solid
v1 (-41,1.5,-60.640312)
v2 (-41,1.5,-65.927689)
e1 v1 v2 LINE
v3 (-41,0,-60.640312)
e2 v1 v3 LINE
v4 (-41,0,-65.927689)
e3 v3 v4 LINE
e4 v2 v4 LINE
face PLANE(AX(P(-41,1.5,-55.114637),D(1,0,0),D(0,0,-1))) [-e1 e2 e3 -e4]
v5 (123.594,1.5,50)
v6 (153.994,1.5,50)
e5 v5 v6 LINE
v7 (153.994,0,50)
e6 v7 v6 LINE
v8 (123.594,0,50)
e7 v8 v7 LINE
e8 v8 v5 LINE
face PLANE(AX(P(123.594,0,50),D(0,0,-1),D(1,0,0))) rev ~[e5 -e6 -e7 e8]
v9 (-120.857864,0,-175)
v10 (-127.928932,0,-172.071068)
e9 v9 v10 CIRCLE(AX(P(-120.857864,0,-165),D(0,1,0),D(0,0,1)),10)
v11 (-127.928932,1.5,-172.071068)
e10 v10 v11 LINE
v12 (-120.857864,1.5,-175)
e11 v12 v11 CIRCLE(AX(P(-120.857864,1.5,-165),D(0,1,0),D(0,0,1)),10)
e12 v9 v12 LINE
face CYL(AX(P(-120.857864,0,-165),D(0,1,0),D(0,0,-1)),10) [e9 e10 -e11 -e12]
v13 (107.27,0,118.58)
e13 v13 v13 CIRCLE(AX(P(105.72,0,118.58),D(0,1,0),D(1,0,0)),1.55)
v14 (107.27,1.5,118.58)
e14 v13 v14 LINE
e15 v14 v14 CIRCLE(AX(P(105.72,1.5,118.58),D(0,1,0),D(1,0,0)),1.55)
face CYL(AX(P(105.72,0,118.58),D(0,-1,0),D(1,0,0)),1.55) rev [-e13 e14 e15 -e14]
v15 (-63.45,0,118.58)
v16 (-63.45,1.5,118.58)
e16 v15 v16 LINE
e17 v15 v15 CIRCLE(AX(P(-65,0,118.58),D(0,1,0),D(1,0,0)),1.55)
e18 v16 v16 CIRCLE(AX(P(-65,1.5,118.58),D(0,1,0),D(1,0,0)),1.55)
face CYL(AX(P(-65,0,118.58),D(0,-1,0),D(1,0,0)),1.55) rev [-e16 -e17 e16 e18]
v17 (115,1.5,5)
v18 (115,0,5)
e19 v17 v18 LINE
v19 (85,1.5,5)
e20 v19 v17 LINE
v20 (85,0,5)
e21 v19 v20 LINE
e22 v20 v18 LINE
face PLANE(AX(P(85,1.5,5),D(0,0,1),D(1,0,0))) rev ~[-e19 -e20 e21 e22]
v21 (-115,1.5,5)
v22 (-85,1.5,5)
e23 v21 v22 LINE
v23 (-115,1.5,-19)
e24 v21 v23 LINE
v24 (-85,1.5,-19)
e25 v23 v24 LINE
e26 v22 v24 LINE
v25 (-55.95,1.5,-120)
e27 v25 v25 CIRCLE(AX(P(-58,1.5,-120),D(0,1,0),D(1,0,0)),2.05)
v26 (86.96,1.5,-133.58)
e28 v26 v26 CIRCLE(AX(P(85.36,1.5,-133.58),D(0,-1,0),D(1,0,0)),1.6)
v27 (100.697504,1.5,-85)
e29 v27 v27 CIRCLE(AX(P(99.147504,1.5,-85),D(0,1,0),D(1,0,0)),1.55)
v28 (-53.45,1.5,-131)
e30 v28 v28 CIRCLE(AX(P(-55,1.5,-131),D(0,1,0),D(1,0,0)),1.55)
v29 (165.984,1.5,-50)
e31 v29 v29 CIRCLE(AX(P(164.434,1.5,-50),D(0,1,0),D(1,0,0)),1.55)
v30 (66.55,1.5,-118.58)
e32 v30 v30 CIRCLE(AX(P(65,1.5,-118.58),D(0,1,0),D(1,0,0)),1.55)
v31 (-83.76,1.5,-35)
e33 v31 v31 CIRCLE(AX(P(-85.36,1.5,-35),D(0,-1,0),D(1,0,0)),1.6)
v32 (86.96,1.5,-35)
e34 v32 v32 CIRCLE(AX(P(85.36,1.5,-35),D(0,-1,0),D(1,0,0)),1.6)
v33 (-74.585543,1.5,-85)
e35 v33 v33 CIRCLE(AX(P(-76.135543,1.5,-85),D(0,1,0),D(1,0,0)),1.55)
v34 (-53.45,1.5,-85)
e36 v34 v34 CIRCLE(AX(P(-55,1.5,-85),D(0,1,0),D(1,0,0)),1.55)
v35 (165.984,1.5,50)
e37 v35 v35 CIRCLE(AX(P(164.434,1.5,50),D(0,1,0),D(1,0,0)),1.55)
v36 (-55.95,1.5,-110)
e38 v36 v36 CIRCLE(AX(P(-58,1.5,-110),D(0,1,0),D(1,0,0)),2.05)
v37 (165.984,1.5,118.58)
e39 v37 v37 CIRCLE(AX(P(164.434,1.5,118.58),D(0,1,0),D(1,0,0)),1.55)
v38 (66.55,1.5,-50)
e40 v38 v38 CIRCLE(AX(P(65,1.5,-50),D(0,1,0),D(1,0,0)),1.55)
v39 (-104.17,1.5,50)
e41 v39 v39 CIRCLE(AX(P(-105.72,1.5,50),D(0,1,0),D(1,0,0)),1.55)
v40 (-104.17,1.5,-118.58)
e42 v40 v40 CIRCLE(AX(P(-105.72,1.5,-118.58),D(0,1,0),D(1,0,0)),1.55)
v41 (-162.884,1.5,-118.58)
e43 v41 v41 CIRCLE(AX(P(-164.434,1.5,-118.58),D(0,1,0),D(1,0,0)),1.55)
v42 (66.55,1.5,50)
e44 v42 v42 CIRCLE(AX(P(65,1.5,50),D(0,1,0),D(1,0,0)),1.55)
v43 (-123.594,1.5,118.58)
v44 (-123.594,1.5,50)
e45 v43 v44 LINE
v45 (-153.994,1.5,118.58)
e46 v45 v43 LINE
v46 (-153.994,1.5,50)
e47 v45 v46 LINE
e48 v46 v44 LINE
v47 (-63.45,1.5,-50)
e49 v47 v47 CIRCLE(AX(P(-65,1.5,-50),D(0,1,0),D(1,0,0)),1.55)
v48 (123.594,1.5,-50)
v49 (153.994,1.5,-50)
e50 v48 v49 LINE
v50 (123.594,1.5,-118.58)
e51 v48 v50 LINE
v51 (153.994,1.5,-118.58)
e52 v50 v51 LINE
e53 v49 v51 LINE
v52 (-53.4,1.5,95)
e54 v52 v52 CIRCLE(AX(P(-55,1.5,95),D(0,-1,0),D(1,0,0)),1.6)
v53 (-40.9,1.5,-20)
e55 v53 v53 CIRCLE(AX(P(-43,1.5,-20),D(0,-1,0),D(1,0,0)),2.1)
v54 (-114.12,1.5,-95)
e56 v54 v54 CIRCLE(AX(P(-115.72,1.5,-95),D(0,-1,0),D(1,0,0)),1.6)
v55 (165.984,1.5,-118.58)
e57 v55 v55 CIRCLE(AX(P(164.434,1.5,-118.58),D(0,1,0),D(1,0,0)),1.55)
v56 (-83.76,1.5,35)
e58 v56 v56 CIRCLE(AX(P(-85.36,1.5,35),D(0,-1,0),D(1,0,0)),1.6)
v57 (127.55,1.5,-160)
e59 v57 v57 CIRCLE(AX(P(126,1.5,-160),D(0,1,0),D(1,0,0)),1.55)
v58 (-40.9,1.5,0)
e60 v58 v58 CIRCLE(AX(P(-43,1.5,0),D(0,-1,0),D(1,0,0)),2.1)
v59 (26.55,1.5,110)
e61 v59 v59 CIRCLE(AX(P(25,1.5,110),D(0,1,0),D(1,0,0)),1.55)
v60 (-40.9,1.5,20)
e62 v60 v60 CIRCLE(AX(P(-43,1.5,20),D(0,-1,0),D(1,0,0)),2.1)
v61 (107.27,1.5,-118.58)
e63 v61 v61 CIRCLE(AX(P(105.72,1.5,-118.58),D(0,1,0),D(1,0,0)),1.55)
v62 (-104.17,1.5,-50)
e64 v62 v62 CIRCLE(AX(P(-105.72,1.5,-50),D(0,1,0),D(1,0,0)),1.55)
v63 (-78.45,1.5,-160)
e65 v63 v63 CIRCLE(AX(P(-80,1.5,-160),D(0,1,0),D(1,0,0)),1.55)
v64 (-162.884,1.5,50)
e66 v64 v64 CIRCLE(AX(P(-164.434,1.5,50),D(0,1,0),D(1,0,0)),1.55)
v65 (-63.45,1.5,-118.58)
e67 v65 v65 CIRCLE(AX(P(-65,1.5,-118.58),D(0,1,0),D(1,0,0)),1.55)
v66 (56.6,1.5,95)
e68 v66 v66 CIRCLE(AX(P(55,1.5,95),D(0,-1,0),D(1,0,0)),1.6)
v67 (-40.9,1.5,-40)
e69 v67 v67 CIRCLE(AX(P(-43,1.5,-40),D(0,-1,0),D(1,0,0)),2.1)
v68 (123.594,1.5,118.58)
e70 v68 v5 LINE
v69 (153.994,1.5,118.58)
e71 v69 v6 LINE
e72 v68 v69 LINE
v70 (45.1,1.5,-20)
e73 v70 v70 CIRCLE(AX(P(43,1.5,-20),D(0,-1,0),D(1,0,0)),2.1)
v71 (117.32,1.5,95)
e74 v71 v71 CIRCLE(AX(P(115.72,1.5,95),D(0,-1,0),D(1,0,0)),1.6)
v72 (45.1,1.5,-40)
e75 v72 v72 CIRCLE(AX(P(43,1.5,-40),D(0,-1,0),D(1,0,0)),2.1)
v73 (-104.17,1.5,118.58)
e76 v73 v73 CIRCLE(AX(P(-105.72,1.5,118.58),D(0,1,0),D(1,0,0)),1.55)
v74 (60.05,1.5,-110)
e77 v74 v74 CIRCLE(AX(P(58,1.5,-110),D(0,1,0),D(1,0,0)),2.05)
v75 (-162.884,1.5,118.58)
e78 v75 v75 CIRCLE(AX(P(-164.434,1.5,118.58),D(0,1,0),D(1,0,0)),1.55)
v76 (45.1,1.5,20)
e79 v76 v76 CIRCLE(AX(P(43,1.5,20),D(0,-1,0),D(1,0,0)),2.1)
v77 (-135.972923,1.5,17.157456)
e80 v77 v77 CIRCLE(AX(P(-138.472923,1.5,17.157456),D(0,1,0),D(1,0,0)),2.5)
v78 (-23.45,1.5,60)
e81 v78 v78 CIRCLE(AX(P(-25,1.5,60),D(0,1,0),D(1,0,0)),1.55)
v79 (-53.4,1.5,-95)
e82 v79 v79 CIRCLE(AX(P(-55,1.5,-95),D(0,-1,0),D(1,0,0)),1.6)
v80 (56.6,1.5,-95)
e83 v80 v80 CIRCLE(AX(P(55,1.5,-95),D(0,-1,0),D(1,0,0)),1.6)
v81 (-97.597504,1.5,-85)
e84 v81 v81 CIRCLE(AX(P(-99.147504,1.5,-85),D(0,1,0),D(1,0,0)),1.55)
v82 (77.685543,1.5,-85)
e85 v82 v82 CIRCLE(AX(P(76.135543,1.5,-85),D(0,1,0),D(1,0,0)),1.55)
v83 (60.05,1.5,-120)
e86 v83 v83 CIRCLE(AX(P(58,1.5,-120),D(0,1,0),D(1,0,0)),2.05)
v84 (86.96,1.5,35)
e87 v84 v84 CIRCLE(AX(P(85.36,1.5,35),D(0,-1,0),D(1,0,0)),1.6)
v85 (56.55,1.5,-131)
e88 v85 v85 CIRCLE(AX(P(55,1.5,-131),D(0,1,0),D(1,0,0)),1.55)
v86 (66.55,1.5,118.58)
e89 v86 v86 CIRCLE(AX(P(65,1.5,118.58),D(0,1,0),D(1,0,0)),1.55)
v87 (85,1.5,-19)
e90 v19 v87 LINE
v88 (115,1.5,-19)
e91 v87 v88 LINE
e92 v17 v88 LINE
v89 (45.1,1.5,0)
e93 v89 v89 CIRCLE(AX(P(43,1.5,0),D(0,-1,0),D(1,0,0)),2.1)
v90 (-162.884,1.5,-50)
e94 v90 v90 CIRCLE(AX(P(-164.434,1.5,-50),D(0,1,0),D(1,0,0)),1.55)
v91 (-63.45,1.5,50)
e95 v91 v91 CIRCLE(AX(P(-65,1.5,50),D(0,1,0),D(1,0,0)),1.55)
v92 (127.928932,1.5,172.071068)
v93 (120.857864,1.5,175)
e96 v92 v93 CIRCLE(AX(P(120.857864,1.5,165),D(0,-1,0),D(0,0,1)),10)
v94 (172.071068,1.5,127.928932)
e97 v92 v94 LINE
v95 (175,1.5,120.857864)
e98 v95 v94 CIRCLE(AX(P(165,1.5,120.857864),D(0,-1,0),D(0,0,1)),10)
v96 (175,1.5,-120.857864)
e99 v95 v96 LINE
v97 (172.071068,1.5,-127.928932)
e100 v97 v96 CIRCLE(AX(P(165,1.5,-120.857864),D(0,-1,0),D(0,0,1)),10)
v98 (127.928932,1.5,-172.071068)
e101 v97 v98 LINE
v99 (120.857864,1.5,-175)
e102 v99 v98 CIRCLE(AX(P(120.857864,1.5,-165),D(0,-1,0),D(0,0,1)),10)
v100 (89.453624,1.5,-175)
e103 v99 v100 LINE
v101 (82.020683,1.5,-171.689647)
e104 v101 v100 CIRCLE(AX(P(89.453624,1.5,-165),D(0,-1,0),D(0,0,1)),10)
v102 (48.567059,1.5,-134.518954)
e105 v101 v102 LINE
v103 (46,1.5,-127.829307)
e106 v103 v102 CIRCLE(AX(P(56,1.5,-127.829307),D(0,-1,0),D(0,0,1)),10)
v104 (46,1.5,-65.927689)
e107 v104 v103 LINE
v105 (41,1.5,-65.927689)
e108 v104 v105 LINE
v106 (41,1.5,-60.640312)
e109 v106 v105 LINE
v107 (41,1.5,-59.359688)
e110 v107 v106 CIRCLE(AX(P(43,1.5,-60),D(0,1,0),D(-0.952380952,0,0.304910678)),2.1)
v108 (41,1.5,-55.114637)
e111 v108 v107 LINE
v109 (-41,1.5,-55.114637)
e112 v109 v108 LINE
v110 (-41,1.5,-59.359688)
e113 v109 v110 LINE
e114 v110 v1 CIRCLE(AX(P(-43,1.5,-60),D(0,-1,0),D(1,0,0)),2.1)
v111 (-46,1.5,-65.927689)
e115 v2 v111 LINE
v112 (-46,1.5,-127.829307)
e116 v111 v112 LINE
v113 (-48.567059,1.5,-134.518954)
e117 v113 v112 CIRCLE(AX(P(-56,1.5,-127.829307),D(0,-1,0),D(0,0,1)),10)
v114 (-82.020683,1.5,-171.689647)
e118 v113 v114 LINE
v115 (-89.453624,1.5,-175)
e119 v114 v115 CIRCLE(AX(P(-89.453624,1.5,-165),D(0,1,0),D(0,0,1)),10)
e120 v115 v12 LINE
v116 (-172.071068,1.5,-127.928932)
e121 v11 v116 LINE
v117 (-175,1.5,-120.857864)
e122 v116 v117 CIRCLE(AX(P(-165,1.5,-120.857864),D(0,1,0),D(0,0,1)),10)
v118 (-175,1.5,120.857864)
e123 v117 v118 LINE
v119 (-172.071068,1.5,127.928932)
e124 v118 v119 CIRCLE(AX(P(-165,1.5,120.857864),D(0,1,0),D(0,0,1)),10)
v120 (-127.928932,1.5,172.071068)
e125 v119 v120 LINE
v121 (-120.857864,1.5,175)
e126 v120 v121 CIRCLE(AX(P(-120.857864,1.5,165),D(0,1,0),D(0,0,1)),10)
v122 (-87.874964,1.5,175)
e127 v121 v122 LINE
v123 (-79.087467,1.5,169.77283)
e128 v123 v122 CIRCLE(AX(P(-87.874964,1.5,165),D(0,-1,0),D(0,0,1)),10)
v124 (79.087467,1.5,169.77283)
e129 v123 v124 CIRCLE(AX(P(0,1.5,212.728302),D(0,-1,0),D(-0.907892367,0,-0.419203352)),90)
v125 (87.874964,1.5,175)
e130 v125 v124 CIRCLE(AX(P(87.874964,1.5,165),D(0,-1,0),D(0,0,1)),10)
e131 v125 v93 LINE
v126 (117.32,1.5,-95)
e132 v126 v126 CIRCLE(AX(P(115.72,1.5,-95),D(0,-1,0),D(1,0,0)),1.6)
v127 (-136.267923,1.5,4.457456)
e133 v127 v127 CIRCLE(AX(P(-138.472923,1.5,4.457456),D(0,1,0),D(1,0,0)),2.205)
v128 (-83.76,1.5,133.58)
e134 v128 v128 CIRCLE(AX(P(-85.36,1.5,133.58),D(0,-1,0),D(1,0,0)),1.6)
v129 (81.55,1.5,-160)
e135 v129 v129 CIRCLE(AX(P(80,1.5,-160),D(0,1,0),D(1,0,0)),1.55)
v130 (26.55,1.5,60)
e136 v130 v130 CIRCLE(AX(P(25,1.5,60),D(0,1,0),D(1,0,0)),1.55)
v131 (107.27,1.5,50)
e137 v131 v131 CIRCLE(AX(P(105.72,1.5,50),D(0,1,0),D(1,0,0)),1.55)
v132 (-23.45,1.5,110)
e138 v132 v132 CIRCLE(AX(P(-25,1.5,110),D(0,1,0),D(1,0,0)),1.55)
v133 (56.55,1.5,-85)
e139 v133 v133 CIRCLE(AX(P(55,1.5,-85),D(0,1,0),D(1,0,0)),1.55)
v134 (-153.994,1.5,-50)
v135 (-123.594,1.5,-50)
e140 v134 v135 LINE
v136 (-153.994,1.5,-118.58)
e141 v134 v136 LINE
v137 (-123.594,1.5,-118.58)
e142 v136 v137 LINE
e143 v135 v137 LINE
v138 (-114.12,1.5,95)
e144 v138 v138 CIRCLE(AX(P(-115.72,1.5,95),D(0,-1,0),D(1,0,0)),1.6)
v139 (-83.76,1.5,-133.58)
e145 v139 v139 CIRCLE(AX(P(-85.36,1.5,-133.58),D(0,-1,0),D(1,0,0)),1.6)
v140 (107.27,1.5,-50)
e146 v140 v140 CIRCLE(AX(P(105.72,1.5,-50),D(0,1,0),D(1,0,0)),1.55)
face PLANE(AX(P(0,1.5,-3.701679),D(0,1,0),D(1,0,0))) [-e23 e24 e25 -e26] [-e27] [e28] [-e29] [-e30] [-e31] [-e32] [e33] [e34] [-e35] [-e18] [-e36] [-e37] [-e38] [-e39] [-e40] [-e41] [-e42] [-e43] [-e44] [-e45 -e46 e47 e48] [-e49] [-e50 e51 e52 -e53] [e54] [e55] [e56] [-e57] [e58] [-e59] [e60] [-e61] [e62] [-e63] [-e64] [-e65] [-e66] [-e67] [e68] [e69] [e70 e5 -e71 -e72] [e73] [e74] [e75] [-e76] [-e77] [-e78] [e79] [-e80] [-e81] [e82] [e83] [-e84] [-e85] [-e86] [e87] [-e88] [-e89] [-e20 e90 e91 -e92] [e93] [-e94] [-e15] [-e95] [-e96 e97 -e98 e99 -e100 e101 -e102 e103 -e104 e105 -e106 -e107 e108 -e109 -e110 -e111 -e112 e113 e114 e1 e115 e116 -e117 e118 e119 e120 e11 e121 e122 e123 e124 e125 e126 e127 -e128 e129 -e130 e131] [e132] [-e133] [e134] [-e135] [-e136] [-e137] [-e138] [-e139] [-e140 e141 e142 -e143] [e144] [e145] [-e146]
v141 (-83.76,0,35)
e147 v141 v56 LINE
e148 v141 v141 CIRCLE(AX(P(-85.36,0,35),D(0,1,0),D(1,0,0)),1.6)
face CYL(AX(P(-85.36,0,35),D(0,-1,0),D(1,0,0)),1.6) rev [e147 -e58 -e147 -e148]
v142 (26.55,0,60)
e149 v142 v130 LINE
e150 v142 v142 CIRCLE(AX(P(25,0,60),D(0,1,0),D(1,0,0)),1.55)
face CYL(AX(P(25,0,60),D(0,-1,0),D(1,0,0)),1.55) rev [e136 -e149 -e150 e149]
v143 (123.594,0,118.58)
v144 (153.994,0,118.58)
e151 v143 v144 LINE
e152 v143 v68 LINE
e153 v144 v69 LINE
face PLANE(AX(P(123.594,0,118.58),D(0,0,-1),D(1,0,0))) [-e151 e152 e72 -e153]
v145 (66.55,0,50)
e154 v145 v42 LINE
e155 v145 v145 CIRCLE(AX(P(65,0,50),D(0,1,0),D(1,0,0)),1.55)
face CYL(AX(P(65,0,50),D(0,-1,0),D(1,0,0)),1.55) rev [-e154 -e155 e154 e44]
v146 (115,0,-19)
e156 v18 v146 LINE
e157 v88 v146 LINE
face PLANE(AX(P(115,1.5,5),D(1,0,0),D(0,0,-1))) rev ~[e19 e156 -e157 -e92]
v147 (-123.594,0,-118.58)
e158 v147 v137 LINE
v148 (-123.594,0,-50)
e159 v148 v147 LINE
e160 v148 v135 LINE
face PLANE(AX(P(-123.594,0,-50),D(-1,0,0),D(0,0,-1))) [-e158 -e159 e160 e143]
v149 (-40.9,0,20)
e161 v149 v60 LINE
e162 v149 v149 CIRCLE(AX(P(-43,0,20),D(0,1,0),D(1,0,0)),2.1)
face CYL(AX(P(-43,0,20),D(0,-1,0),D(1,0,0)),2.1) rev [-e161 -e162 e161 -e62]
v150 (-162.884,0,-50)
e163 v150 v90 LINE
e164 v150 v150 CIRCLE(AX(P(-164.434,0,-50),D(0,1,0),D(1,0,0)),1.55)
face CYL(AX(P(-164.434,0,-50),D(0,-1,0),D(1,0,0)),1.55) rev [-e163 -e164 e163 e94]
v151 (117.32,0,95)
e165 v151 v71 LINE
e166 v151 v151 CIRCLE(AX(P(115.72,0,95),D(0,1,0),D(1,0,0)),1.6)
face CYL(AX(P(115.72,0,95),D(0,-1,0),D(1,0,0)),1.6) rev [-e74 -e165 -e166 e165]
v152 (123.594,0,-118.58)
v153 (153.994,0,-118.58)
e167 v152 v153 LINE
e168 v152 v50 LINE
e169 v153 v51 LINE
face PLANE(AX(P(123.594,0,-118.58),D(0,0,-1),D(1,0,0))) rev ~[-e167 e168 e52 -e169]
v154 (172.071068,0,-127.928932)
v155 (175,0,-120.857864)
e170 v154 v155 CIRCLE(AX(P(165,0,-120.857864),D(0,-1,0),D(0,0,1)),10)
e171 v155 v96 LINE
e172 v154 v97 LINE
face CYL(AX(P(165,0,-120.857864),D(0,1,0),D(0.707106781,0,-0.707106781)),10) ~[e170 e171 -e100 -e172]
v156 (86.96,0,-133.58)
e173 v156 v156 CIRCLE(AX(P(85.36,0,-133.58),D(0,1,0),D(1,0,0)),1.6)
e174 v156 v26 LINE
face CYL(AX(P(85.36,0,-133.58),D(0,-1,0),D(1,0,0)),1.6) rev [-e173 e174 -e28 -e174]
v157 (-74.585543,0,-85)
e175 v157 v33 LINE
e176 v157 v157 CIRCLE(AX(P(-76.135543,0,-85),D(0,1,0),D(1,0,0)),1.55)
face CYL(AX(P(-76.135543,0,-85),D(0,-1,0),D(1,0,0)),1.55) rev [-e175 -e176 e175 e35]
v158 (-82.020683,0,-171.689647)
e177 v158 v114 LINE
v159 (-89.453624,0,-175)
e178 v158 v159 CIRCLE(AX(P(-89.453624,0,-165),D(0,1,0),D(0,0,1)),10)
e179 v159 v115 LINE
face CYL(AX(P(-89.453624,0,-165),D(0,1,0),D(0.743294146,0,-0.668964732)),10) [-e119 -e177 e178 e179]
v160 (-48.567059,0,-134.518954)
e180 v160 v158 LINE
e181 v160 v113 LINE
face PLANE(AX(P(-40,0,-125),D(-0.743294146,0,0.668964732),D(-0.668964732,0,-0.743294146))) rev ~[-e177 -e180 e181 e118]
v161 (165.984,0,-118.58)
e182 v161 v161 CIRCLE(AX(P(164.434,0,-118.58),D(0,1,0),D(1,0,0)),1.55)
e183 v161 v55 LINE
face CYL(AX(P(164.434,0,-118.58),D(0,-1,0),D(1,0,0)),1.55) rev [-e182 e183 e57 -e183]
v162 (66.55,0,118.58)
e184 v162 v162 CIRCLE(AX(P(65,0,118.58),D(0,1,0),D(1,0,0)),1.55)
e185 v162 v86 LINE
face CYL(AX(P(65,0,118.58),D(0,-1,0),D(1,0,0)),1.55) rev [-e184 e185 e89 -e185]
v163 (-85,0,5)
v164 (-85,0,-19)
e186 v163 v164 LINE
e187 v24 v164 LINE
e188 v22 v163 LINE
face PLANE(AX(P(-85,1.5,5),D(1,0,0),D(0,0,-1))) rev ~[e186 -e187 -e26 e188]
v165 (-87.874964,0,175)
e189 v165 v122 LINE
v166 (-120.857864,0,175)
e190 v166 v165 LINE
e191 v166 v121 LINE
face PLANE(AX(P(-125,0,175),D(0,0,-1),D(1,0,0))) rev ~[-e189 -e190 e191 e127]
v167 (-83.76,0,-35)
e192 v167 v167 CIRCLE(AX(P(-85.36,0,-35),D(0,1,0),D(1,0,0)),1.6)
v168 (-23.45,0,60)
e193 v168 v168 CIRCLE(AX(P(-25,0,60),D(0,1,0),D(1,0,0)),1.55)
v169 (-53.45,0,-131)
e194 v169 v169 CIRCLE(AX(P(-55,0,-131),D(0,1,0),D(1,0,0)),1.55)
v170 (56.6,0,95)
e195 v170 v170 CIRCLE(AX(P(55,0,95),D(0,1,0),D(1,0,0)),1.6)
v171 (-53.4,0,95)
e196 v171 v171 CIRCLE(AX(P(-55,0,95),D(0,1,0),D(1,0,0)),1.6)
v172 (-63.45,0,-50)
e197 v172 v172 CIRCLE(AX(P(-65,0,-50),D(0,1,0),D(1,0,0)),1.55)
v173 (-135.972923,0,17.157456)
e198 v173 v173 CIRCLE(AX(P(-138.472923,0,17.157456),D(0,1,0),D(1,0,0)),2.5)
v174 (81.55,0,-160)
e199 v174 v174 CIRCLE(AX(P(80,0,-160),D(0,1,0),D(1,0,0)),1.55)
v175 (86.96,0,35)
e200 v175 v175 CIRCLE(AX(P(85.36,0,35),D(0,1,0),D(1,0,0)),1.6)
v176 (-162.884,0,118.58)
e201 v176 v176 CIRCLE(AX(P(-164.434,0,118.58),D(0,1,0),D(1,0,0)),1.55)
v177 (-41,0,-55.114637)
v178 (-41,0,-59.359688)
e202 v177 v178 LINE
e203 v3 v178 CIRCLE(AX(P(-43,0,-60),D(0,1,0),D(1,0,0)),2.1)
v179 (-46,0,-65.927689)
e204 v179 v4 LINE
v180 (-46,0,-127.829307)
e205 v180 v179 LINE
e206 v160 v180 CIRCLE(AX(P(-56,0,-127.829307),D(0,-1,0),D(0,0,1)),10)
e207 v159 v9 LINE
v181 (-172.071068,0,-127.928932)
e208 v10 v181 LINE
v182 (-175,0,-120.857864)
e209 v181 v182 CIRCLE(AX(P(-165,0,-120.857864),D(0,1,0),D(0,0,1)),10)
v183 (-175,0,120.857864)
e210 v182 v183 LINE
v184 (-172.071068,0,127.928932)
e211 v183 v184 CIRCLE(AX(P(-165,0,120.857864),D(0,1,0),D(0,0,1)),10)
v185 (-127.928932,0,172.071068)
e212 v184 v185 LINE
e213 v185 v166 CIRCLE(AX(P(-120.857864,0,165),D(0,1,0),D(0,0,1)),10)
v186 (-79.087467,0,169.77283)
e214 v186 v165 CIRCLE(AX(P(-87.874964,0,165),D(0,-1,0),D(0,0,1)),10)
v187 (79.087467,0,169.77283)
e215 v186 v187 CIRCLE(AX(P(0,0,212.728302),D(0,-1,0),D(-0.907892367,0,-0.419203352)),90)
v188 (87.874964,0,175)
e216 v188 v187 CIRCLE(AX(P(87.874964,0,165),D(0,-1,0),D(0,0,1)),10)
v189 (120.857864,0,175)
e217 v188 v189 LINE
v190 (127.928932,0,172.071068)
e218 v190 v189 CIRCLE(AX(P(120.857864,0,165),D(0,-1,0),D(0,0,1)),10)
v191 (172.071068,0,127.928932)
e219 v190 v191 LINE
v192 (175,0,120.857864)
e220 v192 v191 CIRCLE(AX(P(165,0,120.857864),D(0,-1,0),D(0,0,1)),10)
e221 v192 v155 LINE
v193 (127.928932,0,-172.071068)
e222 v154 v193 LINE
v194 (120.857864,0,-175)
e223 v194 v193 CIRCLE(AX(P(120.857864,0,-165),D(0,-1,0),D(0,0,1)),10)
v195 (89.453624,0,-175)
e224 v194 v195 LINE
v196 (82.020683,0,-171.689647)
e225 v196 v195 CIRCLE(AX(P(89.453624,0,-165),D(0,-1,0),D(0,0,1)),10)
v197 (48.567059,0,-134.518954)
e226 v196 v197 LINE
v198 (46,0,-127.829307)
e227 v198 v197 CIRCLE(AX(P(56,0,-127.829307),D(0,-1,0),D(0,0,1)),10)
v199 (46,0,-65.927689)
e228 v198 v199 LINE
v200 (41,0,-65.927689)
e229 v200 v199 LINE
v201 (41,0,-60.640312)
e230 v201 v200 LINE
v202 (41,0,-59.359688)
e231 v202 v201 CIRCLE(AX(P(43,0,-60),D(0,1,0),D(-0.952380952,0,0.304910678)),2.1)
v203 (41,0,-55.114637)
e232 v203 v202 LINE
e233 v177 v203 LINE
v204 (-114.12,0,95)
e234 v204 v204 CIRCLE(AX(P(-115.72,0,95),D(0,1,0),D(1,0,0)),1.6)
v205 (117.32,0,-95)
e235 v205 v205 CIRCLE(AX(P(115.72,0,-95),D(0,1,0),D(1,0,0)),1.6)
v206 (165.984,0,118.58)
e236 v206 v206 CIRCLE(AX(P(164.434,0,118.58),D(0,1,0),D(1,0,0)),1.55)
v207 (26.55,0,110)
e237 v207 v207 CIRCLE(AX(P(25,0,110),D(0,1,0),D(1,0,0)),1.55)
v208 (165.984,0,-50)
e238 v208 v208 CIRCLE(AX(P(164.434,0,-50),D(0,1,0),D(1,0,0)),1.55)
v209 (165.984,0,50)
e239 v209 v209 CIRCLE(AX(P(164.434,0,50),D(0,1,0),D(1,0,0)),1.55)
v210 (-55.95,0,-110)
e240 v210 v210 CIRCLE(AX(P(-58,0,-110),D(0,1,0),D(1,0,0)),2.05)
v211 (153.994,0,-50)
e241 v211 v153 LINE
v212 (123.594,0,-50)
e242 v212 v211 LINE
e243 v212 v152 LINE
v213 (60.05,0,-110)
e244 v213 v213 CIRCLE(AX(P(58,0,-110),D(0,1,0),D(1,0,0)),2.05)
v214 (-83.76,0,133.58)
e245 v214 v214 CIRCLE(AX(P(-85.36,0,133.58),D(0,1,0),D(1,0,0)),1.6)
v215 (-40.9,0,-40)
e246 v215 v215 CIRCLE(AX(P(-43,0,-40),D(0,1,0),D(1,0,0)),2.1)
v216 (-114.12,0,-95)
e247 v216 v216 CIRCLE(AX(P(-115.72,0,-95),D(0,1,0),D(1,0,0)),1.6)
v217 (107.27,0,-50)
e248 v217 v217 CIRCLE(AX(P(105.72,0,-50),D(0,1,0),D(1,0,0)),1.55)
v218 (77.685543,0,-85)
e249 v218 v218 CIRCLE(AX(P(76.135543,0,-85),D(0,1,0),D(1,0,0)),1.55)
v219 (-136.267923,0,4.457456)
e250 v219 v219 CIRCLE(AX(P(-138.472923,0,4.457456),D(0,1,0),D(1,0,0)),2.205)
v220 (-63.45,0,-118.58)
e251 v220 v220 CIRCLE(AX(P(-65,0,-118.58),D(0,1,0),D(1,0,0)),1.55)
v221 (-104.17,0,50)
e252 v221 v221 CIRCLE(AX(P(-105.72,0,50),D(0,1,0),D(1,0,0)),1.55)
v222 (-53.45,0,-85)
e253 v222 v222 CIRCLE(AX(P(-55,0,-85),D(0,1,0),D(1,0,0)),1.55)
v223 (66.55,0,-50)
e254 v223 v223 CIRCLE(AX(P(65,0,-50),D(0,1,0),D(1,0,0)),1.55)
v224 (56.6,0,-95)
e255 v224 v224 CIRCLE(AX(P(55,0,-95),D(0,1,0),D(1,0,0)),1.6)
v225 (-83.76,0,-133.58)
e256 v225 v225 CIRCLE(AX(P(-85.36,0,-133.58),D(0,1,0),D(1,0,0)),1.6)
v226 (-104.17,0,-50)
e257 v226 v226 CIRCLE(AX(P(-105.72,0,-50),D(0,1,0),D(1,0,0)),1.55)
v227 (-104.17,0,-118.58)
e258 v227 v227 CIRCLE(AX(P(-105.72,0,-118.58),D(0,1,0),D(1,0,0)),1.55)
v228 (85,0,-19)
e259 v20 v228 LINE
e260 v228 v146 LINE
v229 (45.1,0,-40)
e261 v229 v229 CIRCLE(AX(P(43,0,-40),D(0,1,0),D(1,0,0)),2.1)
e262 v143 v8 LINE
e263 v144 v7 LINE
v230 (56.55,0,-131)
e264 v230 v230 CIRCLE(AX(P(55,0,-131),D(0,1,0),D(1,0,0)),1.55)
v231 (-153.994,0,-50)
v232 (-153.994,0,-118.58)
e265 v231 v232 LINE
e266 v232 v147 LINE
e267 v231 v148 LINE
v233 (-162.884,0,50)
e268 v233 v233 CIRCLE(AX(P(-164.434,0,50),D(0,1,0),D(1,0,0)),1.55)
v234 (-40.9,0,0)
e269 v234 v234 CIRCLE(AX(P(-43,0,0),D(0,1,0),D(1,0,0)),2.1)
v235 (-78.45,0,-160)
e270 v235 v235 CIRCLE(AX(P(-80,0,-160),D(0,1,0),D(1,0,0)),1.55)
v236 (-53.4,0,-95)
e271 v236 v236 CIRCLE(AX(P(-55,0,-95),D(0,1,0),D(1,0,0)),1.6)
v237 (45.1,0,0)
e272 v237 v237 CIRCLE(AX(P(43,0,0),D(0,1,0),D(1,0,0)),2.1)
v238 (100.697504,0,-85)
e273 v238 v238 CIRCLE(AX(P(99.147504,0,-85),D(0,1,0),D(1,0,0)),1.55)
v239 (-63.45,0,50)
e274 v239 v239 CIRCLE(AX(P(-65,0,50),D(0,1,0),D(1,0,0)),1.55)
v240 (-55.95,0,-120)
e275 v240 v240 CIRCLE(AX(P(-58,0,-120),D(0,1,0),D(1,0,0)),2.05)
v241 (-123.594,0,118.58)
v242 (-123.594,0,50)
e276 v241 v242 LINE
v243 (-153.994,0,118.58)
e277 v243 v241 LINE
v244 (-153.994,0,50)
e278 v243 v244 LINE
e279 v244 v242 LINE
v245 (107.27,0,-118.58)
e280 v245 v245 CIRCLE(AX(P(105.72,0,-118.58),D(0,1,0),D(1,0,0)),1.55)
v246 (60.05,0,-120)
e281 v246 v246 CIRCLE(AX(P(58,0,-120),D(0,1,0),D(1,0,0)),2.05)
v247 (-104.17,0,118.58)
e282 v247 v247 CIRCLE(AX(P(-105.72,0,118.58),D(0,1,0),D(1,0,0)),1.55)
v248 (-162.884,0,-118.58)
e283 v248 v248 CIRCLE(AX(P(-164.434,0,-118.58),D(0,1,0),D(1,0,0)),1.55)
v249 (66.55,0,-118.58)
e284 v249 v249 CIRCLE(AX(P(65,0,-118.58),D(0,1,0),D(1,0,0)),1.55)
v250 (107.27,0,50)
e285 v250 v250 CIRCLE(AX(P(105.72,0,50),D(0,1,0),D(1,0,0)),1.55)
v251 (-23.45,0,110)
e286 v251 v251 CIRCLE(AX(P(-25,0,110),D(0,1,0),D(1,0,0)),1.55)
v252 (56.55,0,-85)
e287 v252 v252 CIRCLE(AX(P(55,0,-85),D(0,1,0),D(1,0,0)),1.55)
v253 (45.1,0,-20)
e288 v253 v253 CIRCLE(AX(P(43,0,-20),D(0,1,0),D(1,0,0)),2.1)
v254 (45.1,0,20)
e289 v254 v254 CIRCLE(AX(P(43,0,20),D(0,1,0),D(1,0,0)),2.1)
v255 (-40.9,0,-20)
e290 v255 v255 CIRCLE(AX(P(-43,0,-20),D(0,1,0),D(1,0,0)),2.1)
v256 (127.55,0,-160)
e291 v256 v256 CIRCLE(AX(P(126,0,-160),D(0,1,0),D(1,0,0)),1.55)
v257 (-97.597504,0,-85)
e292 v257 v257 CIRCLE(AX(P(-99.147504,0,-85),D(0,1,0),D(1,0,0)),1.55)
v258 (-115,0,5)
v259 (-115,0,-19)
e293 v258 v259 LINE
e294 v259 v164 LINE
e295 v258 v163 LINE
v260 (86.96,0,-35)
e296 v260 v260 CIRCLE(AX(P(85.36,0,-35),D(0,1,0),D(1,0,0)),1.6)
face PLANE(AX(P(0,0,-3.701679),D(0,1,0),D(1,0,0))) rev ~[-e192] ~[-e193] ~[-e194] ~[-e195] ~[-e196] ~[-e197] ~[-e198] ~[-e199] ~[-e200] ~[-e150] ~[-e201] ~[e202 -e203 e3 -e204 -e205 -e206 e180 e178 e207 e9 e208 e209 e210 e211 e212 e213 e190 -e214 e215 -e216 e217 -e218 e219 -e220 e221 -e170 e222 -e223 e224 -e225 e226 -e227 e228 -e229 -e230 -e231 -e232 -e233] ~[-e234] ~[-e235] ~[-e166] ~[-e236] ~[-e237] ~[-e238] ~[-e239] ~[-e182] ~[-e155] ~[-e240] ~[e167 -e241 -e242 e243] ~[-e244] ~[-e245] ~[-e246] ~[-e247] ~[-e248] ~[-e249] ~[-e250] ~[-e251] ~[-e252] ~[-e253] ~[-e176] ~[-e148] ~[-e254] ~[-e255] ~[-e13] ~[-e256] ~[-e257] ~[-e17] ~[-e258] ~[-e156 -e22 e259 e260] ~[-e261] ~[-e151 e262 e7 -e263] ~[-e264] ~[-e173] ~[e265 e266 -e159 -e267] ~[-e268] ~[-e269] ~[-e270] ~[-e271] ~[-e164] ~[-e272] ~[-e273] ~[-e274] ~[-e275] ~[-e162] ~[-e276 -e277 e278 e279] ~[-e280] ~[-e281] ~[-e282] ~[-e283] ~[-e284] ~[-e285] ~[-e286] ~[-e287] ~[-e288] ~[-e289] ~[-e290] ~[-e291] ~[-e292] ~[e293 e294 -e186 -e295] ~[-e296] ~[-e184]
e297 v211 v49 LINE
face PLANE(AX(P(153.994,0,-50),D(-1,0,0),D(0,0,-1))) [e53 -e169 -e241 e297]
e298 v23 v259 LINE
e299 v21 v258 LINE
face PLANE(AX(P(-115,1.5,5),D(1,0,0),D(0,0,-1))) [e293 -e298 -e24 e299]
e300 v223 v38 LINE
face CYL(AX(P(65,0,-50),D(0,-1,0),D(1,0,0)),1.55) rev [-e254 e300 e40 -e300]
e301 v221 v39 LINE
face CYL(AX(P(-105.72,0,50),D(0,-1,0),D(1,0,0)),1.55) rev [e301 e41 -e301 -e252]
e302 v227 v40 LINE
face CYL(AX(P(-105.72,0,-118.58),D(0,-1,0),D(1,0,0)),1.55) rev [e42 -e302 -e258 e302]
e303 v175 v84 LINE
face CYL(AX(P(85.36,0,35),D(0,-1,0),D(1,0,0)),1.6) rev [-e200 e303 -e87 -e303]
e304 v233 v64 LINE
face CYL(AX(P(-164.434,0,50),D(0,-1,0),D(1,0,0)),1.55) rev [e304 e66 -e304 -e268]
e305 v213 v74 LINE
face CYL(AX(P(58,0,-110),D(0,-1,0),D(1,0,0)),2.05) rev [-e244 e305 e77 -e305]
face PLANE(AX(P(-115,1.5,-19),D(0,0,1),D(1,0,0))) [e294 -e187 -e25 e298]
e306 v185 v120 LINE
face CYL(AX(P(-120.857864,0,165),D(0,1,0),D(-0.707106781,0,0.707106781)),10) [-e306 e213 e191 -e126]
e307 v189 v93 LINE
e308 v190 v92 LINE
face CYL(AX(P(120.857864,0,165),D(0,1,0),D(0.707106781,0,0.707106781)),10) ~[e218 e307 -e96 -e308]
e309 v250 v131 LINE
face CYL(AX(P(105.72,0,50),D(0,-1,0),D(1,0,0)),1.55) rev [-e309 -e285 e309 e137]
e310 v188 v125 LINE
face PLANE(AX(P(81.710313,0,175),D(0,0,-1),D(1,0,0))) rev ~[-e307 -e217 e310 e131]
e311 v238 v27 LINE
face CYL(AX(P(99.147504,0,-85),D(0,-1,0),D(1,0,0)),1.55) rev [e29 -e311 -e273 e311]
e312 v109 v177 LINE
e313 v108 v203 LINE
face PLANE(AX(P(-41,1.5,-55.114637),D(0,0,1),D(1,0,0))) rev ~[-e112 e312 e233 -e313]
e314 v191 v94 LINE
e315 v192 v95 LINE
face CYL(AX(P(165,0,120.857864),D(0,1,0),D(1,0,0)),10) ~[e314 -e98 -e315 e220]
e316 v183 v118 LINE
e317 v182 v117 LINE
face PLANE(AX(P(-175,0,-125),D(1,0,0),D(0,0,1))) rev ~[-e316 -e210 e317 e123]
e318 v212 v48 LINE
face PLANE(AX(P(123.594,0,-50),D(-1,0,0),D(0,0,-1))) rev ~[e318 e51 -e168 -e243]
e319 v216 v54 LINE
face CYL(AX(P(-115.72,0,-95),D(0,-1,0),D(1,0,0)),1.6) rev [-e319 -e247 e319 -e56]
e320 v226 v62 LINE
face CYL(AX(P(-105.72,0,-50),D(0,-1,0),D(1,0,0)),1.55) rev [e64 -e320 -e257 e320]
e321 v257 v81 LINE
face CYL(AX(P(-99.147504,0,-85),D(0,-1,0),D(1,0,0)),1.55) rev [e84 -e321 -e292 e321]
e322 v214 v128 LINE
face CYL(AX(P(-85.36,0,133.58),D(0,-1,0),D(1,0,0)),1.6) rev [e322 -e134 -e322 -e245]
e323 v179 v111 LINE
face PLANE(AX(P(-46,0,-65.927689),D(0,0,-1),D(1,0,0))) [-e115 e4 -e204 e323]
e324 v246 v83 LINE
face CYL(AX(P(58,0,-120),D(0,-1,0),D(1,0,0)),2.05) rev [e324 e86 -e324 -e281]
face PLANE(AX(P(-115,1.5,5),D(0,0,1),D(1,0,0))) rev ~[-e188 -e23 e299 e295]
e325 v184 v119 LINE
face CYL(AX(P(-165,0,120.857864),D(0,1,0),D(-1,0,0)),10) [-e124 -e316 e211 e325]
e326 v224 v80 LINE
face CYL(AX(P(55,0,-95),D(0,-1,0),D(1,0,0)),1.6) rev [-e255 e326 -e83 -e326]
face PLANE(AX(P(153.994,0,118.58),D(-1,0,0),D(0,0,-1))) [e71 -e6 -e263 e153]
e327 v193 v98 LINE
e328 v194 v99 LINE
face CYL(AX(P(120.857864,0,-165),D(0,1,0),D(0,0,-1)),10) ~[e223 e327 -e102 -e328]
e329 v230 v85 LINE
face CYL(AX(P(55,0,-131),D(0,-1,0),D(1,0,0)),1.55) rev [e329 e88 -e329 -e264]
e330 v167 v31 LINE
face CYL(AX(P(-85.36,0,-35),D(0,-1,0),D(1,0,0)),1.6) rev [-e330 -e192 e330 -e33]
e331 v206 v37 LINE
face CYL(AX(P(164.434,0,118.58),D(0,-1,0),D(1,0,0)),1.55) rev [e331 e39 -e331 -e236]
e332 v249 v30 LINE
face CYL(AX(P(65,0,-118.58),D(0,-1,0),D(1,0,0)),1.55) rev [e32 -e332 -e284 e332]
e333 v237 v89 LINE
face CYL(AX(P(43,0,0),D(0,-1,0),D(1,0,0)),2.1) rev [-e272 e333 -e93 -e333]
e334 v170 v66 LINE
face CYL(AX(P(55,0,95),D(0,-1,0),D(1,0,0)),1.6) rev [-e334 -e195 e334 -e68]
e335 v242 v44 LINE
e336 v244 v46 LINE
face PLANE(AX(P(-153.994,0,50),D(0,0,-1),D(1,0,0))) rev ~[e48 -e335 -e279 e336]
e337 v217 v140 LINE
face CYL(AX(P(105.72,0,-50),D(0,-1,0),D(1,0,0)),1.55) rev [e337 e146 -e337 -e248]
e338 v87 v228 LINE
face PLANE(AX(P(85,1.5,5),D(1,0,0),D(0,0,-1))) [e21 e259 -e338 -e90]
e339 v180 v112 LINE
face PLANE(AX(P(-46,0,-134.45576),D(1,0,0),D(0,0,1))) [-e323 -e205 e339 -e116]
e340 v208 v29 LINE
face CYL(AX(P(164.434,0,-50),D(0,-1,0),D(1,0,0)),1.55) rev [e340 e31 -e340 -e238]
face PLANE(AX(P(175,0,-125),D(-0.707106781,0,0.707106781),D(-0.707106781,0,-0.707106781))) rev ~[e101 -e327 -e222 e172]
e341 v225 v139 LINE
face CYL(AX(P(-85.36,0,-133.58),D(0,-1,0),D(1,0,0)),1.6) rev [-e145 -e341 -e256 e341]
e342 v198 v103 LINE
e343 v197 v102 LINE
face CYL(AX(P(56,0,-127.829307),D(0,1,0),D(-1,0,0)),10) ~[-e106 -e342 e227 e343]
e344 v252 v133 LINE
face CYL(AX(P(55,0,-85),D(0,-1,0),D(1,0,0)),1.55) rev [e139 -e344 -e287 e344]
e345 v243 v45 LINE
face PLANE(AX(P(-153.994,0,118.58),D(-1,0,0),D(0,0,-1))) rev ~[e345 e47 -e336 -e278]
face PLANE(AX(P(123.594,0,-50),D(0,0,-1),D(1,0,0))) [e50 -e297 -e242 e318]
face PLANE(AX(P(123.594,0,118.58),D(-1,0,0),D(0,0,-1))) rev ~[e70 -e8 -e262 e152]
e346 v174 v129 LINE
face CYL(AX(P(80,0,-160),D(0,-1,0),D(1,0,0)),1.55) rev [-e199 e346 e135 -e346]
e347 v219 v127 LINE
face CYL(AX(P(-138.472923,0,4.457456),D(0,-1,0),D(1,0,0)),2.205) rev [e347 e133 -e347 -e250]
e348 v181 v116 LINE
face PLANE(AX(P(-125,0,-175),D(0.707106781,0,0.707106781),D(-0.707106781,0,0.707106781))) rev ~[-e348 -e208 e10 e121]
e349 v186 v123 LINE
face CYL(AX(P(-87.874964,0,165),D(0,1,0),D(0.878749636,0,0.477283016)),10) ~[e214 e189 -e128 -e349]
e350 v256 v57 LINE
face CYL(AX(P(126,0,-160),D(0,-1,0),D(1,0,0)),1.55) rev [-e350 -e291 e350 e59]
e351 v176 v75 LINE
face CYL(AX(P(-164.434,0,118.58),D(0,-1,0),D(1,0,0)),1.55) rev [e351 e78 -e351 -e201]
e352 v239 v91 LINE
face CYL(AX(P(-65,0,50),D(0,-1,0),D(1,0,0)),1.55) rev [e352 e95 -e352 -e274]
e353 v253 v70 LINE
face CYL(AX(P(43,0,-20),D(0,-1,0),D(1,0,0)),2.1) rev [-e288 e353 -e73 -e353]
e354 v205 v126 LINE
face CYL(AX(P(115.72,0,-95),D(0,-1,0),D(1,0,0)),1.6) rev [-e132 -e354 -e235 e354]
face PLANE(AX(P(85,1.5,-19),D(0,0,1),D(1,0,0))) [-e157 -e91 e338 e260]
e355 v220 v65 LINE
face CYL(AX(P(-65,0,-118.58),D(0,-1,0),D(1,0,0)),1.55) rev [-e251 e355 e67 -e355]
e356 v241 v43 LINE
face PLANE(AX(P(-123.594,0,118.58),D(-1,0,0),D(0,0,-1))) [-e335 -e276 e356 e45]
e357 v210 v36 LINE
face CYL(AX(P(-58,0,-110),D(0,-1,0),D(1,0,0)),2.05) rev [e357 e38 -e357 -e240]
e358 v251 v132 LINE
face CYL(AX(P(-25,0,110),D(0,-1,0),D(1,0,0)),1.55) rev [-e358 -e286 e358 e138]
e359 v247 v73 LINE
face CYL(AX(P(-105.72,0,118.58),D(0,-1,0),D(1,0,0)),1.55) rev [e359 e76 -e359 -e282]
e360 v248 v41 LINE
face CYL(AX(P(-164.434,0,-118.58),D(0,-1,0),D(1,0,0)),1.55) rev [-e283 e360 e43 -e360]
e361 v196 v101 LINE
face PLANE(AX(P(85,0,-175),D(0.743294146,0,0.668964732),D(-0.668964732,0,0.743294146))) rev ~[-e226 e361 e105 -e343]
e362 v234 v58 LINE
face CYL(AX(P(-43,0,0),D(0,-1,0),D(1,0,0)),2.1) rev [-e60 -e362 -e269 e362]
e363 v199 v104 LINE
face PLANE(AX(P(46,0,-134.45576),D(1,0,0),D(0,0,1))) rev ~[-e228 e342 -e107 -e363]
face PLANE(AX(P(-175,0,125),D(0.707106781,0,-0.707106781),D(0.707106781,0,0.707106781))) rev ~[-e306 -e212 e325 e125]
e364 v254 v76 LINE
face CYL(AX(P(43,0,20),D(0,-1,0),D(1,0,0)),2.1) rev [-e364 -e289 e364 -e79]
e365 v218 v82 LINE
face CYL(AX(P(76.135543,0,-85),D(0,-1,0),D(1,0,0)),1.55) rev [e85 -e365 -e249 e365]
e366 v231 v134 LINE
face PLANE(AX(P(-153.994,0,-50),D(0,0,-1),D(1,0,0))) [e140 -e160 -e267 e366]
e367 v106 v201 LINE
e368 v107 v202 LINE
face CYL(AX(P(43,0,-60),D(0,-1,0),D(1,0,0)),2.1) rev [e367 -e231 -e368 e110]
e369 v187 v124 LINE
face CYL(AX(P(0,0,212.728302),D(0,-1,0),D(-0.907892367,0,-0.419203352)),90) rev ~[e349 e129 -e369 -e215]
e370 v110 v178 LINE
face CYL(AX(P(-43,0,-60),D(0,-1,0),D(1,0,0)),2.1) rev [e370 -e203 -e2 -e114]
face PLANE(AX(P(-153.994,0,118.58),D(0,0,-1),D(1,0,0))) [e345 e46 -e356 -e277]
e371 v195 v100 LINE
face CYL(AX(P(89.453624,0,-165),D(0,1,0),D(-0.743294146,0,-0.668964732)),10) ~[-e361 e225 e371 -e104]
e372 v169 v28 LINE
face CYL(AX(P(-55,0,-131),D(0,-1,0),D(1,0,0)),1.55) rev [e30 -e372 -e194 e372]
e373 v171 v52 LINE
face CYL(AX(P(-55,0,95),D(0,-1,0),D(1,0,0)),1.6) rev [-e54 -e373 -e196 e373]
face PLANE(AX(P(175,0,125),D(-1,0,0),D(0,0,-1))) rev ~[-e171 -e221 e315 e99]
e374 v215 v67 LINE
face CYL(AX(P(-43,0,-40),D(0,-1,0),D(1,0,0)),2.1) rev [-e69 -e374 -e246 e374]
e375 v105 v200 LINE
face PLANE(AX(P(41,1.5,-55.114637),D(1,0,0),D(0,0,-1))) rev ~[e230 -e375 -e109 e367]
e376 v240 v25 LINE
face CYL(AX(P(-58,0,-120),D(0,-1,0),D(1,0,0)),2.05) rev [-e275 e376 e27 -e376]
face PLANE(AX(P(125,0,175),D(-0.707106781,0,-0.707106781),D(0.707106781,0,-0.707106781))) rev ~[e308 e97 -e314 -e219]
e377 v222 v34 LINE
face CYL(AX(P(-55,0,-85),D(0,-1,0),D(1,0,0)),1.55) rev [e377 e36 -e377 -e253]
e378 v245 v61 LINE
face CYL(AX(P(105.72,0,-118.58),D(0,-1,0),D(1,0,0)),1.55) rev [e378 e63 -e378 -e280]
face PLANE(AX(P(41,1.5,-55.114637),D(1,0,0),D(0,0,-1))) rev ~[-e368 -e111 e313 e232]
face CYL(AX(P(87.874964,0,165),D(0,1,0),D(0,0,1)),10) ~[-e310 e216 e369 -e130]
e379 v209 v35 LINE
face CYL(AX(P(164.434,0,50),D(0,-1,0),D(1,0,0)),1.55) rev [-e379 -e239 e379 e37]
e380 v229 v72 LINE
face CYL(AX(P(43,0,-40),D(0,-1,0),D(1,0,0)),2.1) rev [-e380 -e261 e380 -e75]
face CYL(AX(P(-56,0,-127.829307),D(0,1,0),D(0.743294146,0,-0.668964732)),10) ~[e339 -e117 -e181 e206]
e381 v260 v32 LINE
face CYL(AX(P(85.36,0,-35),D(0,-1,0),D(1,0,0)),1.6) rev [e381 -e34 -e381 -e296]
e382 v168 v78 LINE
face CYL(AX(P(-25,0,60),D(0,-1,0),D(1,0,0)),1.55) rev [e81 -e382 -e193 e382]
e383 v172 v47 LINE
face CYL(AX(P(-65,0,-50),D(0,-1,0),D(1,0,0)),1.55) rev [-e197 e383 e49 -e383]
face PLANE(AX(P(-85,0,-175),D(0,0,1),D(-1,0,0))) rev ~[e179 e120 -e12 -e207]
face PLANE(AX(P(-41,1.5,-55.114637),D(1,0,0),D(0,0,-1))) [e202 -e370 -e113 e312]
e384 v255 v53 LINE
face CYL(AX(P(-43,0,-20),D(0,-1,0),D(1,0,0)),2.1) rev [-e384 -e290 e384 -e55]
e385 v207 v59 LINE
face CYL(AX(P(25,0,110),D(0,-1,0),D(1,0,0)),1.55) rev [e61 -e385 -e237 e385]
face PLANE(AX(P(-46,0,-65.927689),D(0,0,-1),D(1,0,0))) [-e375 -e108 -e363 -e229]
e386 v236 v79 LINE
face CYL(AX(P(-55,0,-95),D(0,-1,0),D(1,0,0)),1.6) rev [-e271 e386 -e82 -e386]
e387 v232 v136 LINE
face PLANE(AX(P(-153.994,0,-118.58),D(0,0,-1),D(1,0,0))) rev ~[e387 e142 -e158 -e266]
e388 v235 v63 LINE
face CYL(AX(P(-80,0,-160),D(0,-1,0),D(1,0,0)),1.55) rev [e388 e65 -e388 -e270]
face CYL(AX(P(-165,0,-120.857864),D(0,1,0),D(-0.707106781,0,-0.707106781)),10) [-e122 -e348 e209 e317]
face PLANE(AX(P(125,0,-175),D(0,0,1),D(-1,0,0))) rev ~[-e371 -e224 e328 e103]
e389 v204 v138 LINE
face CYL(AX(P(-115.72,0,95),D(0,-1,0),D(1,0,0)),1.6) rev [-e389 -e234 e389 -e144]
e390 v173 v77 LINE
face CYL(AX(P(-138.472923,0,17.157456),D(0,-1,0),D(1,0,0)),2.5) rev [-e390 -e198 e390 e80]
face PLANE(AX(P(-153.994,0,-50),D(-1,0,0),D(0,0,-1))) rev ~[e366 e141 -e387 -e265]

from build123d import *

# Parameters (mm, degrees)
SKETCH_1_R          = 1.55
SKETCH_1_W          = 30.4
SKETCH_1_H          = 68.58
SKETCH_1_R_2        = 2.5
SKETCH_1_R_3        = 2.205
SKETCH_1_R_4        = 2.05
EXTRUDE_1_DEPTH     = 1.5
FILLET_1_R          = 10
FILLET_2_R          = 10
FILLET_3_R          = 10
SKETCH_2_W          = 80
SKETCH_2_H          = 29.628438218
CUT_EXTRUDE_1_DEPTH = 10
SKETCH_3_W          = 30
SKETCH_3_H          = 24
CUT_EXTRUDE_2_DEPTH = 10
SKETCH_1_4_R        = 2.1
CUT_EXTRUDE_3_DEPTH = 10
SKETCH_5_W          = 92
SKETCH_5_H          = 68.528071536
CUT_EXTRUDE_4_DEPTH = 4
SKETCH_6_W          = 82
SKETCH_6_H          = 10.813051581
CUT_EXTRUDE_5_DEPTH = 10
FILLET_4_R          = 10
SKETCH_1_5_R        = 1.6
CUT_EXTRUDE_7_DEPTH = 10
SKETCH_1_6_R        = 1.6
CUT_EXTRUDE_8_DEPTH = 10


with BuildPart() as part:
    # 草图1 → 凸台-拉伸1 (new body)
    with BuildSketch(Plane(origin=(0, 0, 0), x_dir=(1, 0, 0), z_dir=(0, 1, 0))):
        with BuildLine():
            Line((-85, 175), (-125, 175))
            Line((-125, 175), (-175, 125))
            Line((-175, 125), (-175, -125))
            Line((-175, -125), (-125, -175))
            Line((-125, -175), (-81.710313025, -175))
            ThreePointArc((-81.710313025, -175), (0, -122.728301649), (81.710313025, -175))
            Line((81.710313025, -175), (125, -175))
            Line((125, -175), (175, -125))
            Line((175, -125), (175, 125))
            Line((175, 125), (125, 175))
            Line((125, 175), (85, 175))
            Line((85, 175), (40, 125))
            Line((40, 125), (40, 85))
            Line((40, 85), (-40, 85))
            Line((-40, 85), (-40, 125))
            Line((-40, 125), (-85, 175))
        make_face()
        with Locations((-164.434, -118.58)):
            Circle(SKETCH_1_R, mode=Mode.SUBTRACT)
        with Locations((-105.72, -118.58)):
            Circle(SKETCH_1_R, mode=Mode.SUBTRACT)
        with Locations((-65, -118.58)):
            Circle(SKETCH_1_R, mode=Mode.SUBTRACT)
        with Locations((-25, -110)):
            Circle(SKETCH_1_R, mode=Mode.SUBTRACT)
        with Locations((-138.794, -84.29)):
            Rectangle(SKETCH_1_W, SKETCH_1_H, mode=Mode.SUBTRACT)
        with Locations((-164.434, -50)):
            Circle(SKETCH_1_R, mode=Mode.SUBTRACT)
        with Locations((-105.72, -50)):
            Circle(SKETCH_1_R, mode=Mode.SUBTRACT)
        with Locations((-138.472923085, -17.157455951)):
            Circle(SKETCH_1_R_2, mode=Mode.SUBTRACT)
        with Locations((-138.472923085, -4.457455951)):
            Circle(SKETCH_1_R_3, mode=Mode.SUBTRACT)
        with Locations((-65, -50)):
            Circle(SKETCH_1_R, mode=Mode.SUBTRACT)
        with Locations((-25, -60)):
            Circle(SKETCH_1_R, mode=Mode.SUBTRACT)
        with Locations((25, -110)):
            Circle(SKETCH_1_R, mode=Mode.SUBTRACT)
        with Locations((65, -118.58)):
            Circle(SKETCH_1_R, mode=Mode.SUBTRACT)
        with Locations((105.72, -118.58)):
            Circle(SKETCH_1_R, mode=Mode.SUBTRACT)
        with Locations((164.434, -118.58)):
            Circle(SKETCH_1_R, mode=Mode.SUBTRACT)
        with Locations((25, -60)):
            Circle(SKETCH_1_R, mode=Mode.SUBTRACT)
        with Locations((65, -50)):
            Circle(SKETCH_1_R, mode=Mode.SUBTRACT)
        with Locations((105.72, -50)):
            Circle(SKETCH_1_R, mode=Mode.SUBTRACT)
        with Locations((138.794, -84.29)):
            Rectangle(SKETCH_1_W, SKETCH_1_H, mode=Mode.SUBTRACT)
        with Locations((164.434, -50)):
            Circle(SKETCH_1_R, mode=Mode.SUBTRACT)
        with Locations((-164.434, 50)):
            Circle(SKETCH_1_R, mode=Mode.SUBTRACT)
        with Locations((-138.794, 84.29)):
            Rectangle(SKETCH_1_W, SKETCH_1_H, mode=Mode.SUBTRACT)
        with Locations((-105.72, 50)):
            Circle(SKETCH_1_R, mode=Mode.SUBTRACT)
        with Locations((-99.147504451, 85)):
            Circle(SKETCH_1_R, mode=Mode.SUBTRACT)
        with Locations((-65, 50)):
            Circle(SKETCH_1_R, mode=Mode.SUBTRACT)
        with Locations((-76.13554325, 85)):
            Circle(SKETCH_1_R, mode=Mode.SUBTRACT)
        with Locations((-55, 85)):
            Circle(SKETCH_1_R, mode=Mode.SUBTRACT)
        with Locations((-164.434, 118.58)):
            Circle(SKETCH_1_R, mode=Mode.SUBTRACT)
        with Locations((-105.72, 118.58)):
            Circle(SKETCH_1_R, mode=Mode.SUBTRACT)
        with Locations((-58, 110)):
            Circle(SKETCH_1_R_4, mode=Mode.SUBTRACT)
        with Locations((-65, 118.58)):
            Circle(SKETCH_1_R, mode=Mode.SUBTRACT)
        with Locations((-58, 120)):
            Circle(SKETCH_1_R_4, mode=Mode.SUBTRACT)
        with Locations((-55, 131)):
            Circle(SKETCH_1_R, mode=Mode.SUBTRACT)
        with Locations((-43, 110)):
            Circle(SKETCH_1_R_4, mode=Mode.SUBTRACT)
        with Locations((-43, 120)):
            Circle(SKETCH_1_R_4, mode=Mode.SUBTRACT)
        with Locations((-80, 160)):
            Circle(SKETCH_1_R, mode=Mode.SUBTRACT)
        with Locations((65, 50)):
            Circle(SKETCH_1_R, mode=Mode.SUBTRACT)
        with Locations((55, 85)):
            Circle(SKETCH_1_R, mode=Mode.SUBTRACT)
        with Locations((76.13554325, 85)):
            Circle(SKETCH_1_R, mode=Mode.SUBTRACT)
        with Locations((105.72, 50)):
            Circle(SKETCH_1_R, mode=Mode.SUBTRACT)
        with Locations((99.147504451, 85)):
            Circle(SKETCH_1_R, mode=Mode.SUBTRACT)
        with Locations((164.434, 50)):
            Circle(SKETCH_1_R, mode=Mode.SUBTRACT)
        with Locations((138.794, 84.29)):
            Rectangle(SKETCH_1_W, SKETCH_1_H, mode=Mode.SUBTRACT)
        with Locations((43, 110)):
            Circle(SKETCH_1_R_4, mode=Mode.SUBTRACT)
        with Locations((43, 120)):
            Circle(SKETCH_1_R_4, mode=Mode.SUBTRACT)
        with Locations((58, 110)):
            Circle(SKETCH_1_R_4, mode=Mode.SUBTRACT)
        with Locations((58, 120)):
            Circle(SKETCH_1_R_4, mode=Mode.SUBTRACT)
        with Locations((65, 118.58)):
            Circle(SKETCH_1_R, mode=Mode.SUBTRACT)
        with Locations((55, 131)):
            Circle(SKETCH_1_R, mode=Mode.SUBTRACT)
        with Locations((80, 160)):
            Circle(SKETCH_1_R, mode=Mode.SUBTRACT)
        with Locations((105.72, 118.58)):
            Circle(SKETCH_1_R, mode=Mode.SUBTRACT)
        with Locations((164.434, 118.58)):
            Circle(SKETCH_1_R, mode=Mode.SUBTRACT)
        with Locations((126, 160)):
            Circle(SKETCH_1_R, mode=Mode.SUBTRACT)
    extrude(amount=EXTRUDE_1_DEPTH)

    # 圆角1
    fillet_1_edges = [part.edges().sort_by_distance(p)[0] for p in [
        (-40, 0.75, -125),
    ]]
    fillet(fillet_1_edges, radius=FILLET_1_R)

    # 圆角2
    fillet_2_edges = [part.edges().sort_by_distance(p)[0] for p in [
        (40, 0.75, -125),
    ]]
    fillet(fillet_2_edges, radius=FILLET_2_R)

    # 圆角3
    fillet_3_edges = [part.edges().sort_by_distance(p)[0] for p in [
        (-85, 0.75, -175),
        (85, 0.75, -175),
        (125, 0.75, -175),
        (175, 0.75, -125),
        (175, 0.75, 125),
        (125, 0.75, 175),
        (81.710313025, 0.75, 175),
        (-81.710313025, 0.75, 175),
        (-125, 0.75, 175),
        (-175, 0.75, 125),
        (-175, 0.75, -125),
        (-125, 0.75, -175),
    ]]
    fillet(fillet_3_edges, radius=FILLET_3_R)

    # 草图2 → 切除-拉伸1 (cut)
    with BuildSketch(Plane(origin=(0, 1.5, 0), x_dir=(1, 0, 0), z_dir=(0, 1, 0))):
        with Locations((0, 70.185780891)):
            Rectangle(SKETCH_2_W, SKETCH_2_H)
    extrude(amount=-CUT_EXTRUDE_1_DEPTH, mode=Mode.SUBTRACT)

    # 草图3 → 切除-拉伸2 (cut)
    with BuildSketch(Plane(origin=(0, 1.5, 0), x_dir=(1, 0, 0), z_dir=(0, 1, 0))):
        with Locations((-100, 7)):
            Rectangle(SKETCH_3_W, SKETCH_3_H)
        with Locations((100, 7)):
            Rectangle(SKETCH_3_W, SKETCH_3_H)
    extrude(amount=-CUT_EXTRUDE_2_DEPTH, mode=Mode.SUBTRACT)

    # 草图1<4> → 切除-拉伸3 (cut)
    with BuildSketch(Plane(origin=(0, 0, 0), x_dir=(1, 0, 0), z_dir=(0, 1, 0))):
        with Locations((43, -20)):
            Circle(SKETCH_1_4_R)
        with Locations((43, 0)):
            Circle(SKETCH_1_4_R)
        with Locations((43, 20)):
            Circle(SKETCH_1_4_R)
        with Locations((43, 40)):
            Circle(SKETCH_1_4_R)
        with Locations((43, 60)):
            Circle(SKETCH_1_4_R)
        with Locations((-43, -20)):
            Circle(SKETCH_1_4_R)
        with Locations((-43, 0)):
            Circle(SKETCH_1_4_R)
        with Locations((-43, 20)):
            Circle(SKETCH_1_4_R)
        with Locations((-43, 40)):
            Circle(SKETCH_1_4_R)
        with Locations((-43, 60)):
            Circle(SKETCH_1_4_R)
    extrude(amount=CUT_EXTRUDE_3_DEPTH, mode=Mode.SUBTRACT)

    # 草图5 → 切除-拉伸4 (cut)
    with BuildSketch(Plane.XZ):
        with Locations((0, -100.191724722)):
            Rectangle(SKETCH_5_W, SKETCH_5_H)
    extrude(amount=-CUT_EXTRUDE_4_DEPTH, mode=Mode.SUBTRACT)

    # 草图6 → 切除-拉伸5 (cut)
    with BuildSketch(Plane(origin=(0, 1.5, 0), x_dir=(1, 0, 0), z_dir=(0, 1, 0))):
        with Locations((0, 60.521163164)):
            Rectangle(SKETCH_6_W, SKETCH_6_H)
    extrude(amount=-CUT_EXTRUDE_5_DEPTH, mode=Mode.SUBTRACT)

    # 圆角4
    fillet_4_edges = [part.edges().sort_by_distance(p)[0] for p in [
        (46, 0.75, -131.666666667),
        (-46, 0.75, -131.666666667),
    ]]
    fillet(fillet_4_edges, radius=FILLET_4_R)

    # 草图1<5> → 切除-拉伸7 (cut)
    with BuildSketch(Plane(origin=(0, 0, 0), x_dir=(1, 0, 0), z_dir=(0, 1, 0))):
        with Locations((-85.36, -35)):
            Circle(SKETCH_1_5_R)
        with Locations((-85.36, -133.58)):
            Circle(SKETCH_1_5_R)
        with Locations((-115.72, -95)):
            Circle(SKETCH_1_5_R)
        with Locations((55, -95)):
            Circle(SKETCH_1_5_R)
        with Locations((115.72, -95)):
            Circle(SKETCH_1_5_R)
        with Locations((85.36, -35)):
            Circle(SKETCH_1_5_R)
        with Locations((85.36, 133.58)):
            Circle(SKETCH_1_5_R)
        with Locations((115.72, 95)):
            Circle(SKETCH_1_5_R)
        with Locations((55, 95)):
            Circle(SKETCH_1_5_R)
        with Locations((85.36, 35)):
            Circle(SKETCH_1_5_R)
        with Locations((-85.36, 35)):
            Circle(SKETCH_1_5_R)
        with Locations((-55, 95)):
            Circle(SKETCH_1_5_R)
        with Locations((-115.72, 95)):
            Circle(SKETCH_1_5_R)
        with Locations((-85.36, 133.58)):
            Circle(SKETCH_1_5_R)
    extrude(amount=CUT_EXTRUDE_7_DEPTH, mode=Mode.SUBTRACT)

    # 草图1<6> → 切除-拉伸8 (cut)
    with BuildSketch(Plane(origin=(0, 0, 0), x_dir=(1, 0, 0), z_dir=(0, 1, 0))):
        with Locations((-55, -95)):
            Circle(SKETCH_1_6_R)
    extrude(amount=CUT_EXTRUDE_8_DEPTH, mode=Mode.SUBTRACT)


solid = part.part
